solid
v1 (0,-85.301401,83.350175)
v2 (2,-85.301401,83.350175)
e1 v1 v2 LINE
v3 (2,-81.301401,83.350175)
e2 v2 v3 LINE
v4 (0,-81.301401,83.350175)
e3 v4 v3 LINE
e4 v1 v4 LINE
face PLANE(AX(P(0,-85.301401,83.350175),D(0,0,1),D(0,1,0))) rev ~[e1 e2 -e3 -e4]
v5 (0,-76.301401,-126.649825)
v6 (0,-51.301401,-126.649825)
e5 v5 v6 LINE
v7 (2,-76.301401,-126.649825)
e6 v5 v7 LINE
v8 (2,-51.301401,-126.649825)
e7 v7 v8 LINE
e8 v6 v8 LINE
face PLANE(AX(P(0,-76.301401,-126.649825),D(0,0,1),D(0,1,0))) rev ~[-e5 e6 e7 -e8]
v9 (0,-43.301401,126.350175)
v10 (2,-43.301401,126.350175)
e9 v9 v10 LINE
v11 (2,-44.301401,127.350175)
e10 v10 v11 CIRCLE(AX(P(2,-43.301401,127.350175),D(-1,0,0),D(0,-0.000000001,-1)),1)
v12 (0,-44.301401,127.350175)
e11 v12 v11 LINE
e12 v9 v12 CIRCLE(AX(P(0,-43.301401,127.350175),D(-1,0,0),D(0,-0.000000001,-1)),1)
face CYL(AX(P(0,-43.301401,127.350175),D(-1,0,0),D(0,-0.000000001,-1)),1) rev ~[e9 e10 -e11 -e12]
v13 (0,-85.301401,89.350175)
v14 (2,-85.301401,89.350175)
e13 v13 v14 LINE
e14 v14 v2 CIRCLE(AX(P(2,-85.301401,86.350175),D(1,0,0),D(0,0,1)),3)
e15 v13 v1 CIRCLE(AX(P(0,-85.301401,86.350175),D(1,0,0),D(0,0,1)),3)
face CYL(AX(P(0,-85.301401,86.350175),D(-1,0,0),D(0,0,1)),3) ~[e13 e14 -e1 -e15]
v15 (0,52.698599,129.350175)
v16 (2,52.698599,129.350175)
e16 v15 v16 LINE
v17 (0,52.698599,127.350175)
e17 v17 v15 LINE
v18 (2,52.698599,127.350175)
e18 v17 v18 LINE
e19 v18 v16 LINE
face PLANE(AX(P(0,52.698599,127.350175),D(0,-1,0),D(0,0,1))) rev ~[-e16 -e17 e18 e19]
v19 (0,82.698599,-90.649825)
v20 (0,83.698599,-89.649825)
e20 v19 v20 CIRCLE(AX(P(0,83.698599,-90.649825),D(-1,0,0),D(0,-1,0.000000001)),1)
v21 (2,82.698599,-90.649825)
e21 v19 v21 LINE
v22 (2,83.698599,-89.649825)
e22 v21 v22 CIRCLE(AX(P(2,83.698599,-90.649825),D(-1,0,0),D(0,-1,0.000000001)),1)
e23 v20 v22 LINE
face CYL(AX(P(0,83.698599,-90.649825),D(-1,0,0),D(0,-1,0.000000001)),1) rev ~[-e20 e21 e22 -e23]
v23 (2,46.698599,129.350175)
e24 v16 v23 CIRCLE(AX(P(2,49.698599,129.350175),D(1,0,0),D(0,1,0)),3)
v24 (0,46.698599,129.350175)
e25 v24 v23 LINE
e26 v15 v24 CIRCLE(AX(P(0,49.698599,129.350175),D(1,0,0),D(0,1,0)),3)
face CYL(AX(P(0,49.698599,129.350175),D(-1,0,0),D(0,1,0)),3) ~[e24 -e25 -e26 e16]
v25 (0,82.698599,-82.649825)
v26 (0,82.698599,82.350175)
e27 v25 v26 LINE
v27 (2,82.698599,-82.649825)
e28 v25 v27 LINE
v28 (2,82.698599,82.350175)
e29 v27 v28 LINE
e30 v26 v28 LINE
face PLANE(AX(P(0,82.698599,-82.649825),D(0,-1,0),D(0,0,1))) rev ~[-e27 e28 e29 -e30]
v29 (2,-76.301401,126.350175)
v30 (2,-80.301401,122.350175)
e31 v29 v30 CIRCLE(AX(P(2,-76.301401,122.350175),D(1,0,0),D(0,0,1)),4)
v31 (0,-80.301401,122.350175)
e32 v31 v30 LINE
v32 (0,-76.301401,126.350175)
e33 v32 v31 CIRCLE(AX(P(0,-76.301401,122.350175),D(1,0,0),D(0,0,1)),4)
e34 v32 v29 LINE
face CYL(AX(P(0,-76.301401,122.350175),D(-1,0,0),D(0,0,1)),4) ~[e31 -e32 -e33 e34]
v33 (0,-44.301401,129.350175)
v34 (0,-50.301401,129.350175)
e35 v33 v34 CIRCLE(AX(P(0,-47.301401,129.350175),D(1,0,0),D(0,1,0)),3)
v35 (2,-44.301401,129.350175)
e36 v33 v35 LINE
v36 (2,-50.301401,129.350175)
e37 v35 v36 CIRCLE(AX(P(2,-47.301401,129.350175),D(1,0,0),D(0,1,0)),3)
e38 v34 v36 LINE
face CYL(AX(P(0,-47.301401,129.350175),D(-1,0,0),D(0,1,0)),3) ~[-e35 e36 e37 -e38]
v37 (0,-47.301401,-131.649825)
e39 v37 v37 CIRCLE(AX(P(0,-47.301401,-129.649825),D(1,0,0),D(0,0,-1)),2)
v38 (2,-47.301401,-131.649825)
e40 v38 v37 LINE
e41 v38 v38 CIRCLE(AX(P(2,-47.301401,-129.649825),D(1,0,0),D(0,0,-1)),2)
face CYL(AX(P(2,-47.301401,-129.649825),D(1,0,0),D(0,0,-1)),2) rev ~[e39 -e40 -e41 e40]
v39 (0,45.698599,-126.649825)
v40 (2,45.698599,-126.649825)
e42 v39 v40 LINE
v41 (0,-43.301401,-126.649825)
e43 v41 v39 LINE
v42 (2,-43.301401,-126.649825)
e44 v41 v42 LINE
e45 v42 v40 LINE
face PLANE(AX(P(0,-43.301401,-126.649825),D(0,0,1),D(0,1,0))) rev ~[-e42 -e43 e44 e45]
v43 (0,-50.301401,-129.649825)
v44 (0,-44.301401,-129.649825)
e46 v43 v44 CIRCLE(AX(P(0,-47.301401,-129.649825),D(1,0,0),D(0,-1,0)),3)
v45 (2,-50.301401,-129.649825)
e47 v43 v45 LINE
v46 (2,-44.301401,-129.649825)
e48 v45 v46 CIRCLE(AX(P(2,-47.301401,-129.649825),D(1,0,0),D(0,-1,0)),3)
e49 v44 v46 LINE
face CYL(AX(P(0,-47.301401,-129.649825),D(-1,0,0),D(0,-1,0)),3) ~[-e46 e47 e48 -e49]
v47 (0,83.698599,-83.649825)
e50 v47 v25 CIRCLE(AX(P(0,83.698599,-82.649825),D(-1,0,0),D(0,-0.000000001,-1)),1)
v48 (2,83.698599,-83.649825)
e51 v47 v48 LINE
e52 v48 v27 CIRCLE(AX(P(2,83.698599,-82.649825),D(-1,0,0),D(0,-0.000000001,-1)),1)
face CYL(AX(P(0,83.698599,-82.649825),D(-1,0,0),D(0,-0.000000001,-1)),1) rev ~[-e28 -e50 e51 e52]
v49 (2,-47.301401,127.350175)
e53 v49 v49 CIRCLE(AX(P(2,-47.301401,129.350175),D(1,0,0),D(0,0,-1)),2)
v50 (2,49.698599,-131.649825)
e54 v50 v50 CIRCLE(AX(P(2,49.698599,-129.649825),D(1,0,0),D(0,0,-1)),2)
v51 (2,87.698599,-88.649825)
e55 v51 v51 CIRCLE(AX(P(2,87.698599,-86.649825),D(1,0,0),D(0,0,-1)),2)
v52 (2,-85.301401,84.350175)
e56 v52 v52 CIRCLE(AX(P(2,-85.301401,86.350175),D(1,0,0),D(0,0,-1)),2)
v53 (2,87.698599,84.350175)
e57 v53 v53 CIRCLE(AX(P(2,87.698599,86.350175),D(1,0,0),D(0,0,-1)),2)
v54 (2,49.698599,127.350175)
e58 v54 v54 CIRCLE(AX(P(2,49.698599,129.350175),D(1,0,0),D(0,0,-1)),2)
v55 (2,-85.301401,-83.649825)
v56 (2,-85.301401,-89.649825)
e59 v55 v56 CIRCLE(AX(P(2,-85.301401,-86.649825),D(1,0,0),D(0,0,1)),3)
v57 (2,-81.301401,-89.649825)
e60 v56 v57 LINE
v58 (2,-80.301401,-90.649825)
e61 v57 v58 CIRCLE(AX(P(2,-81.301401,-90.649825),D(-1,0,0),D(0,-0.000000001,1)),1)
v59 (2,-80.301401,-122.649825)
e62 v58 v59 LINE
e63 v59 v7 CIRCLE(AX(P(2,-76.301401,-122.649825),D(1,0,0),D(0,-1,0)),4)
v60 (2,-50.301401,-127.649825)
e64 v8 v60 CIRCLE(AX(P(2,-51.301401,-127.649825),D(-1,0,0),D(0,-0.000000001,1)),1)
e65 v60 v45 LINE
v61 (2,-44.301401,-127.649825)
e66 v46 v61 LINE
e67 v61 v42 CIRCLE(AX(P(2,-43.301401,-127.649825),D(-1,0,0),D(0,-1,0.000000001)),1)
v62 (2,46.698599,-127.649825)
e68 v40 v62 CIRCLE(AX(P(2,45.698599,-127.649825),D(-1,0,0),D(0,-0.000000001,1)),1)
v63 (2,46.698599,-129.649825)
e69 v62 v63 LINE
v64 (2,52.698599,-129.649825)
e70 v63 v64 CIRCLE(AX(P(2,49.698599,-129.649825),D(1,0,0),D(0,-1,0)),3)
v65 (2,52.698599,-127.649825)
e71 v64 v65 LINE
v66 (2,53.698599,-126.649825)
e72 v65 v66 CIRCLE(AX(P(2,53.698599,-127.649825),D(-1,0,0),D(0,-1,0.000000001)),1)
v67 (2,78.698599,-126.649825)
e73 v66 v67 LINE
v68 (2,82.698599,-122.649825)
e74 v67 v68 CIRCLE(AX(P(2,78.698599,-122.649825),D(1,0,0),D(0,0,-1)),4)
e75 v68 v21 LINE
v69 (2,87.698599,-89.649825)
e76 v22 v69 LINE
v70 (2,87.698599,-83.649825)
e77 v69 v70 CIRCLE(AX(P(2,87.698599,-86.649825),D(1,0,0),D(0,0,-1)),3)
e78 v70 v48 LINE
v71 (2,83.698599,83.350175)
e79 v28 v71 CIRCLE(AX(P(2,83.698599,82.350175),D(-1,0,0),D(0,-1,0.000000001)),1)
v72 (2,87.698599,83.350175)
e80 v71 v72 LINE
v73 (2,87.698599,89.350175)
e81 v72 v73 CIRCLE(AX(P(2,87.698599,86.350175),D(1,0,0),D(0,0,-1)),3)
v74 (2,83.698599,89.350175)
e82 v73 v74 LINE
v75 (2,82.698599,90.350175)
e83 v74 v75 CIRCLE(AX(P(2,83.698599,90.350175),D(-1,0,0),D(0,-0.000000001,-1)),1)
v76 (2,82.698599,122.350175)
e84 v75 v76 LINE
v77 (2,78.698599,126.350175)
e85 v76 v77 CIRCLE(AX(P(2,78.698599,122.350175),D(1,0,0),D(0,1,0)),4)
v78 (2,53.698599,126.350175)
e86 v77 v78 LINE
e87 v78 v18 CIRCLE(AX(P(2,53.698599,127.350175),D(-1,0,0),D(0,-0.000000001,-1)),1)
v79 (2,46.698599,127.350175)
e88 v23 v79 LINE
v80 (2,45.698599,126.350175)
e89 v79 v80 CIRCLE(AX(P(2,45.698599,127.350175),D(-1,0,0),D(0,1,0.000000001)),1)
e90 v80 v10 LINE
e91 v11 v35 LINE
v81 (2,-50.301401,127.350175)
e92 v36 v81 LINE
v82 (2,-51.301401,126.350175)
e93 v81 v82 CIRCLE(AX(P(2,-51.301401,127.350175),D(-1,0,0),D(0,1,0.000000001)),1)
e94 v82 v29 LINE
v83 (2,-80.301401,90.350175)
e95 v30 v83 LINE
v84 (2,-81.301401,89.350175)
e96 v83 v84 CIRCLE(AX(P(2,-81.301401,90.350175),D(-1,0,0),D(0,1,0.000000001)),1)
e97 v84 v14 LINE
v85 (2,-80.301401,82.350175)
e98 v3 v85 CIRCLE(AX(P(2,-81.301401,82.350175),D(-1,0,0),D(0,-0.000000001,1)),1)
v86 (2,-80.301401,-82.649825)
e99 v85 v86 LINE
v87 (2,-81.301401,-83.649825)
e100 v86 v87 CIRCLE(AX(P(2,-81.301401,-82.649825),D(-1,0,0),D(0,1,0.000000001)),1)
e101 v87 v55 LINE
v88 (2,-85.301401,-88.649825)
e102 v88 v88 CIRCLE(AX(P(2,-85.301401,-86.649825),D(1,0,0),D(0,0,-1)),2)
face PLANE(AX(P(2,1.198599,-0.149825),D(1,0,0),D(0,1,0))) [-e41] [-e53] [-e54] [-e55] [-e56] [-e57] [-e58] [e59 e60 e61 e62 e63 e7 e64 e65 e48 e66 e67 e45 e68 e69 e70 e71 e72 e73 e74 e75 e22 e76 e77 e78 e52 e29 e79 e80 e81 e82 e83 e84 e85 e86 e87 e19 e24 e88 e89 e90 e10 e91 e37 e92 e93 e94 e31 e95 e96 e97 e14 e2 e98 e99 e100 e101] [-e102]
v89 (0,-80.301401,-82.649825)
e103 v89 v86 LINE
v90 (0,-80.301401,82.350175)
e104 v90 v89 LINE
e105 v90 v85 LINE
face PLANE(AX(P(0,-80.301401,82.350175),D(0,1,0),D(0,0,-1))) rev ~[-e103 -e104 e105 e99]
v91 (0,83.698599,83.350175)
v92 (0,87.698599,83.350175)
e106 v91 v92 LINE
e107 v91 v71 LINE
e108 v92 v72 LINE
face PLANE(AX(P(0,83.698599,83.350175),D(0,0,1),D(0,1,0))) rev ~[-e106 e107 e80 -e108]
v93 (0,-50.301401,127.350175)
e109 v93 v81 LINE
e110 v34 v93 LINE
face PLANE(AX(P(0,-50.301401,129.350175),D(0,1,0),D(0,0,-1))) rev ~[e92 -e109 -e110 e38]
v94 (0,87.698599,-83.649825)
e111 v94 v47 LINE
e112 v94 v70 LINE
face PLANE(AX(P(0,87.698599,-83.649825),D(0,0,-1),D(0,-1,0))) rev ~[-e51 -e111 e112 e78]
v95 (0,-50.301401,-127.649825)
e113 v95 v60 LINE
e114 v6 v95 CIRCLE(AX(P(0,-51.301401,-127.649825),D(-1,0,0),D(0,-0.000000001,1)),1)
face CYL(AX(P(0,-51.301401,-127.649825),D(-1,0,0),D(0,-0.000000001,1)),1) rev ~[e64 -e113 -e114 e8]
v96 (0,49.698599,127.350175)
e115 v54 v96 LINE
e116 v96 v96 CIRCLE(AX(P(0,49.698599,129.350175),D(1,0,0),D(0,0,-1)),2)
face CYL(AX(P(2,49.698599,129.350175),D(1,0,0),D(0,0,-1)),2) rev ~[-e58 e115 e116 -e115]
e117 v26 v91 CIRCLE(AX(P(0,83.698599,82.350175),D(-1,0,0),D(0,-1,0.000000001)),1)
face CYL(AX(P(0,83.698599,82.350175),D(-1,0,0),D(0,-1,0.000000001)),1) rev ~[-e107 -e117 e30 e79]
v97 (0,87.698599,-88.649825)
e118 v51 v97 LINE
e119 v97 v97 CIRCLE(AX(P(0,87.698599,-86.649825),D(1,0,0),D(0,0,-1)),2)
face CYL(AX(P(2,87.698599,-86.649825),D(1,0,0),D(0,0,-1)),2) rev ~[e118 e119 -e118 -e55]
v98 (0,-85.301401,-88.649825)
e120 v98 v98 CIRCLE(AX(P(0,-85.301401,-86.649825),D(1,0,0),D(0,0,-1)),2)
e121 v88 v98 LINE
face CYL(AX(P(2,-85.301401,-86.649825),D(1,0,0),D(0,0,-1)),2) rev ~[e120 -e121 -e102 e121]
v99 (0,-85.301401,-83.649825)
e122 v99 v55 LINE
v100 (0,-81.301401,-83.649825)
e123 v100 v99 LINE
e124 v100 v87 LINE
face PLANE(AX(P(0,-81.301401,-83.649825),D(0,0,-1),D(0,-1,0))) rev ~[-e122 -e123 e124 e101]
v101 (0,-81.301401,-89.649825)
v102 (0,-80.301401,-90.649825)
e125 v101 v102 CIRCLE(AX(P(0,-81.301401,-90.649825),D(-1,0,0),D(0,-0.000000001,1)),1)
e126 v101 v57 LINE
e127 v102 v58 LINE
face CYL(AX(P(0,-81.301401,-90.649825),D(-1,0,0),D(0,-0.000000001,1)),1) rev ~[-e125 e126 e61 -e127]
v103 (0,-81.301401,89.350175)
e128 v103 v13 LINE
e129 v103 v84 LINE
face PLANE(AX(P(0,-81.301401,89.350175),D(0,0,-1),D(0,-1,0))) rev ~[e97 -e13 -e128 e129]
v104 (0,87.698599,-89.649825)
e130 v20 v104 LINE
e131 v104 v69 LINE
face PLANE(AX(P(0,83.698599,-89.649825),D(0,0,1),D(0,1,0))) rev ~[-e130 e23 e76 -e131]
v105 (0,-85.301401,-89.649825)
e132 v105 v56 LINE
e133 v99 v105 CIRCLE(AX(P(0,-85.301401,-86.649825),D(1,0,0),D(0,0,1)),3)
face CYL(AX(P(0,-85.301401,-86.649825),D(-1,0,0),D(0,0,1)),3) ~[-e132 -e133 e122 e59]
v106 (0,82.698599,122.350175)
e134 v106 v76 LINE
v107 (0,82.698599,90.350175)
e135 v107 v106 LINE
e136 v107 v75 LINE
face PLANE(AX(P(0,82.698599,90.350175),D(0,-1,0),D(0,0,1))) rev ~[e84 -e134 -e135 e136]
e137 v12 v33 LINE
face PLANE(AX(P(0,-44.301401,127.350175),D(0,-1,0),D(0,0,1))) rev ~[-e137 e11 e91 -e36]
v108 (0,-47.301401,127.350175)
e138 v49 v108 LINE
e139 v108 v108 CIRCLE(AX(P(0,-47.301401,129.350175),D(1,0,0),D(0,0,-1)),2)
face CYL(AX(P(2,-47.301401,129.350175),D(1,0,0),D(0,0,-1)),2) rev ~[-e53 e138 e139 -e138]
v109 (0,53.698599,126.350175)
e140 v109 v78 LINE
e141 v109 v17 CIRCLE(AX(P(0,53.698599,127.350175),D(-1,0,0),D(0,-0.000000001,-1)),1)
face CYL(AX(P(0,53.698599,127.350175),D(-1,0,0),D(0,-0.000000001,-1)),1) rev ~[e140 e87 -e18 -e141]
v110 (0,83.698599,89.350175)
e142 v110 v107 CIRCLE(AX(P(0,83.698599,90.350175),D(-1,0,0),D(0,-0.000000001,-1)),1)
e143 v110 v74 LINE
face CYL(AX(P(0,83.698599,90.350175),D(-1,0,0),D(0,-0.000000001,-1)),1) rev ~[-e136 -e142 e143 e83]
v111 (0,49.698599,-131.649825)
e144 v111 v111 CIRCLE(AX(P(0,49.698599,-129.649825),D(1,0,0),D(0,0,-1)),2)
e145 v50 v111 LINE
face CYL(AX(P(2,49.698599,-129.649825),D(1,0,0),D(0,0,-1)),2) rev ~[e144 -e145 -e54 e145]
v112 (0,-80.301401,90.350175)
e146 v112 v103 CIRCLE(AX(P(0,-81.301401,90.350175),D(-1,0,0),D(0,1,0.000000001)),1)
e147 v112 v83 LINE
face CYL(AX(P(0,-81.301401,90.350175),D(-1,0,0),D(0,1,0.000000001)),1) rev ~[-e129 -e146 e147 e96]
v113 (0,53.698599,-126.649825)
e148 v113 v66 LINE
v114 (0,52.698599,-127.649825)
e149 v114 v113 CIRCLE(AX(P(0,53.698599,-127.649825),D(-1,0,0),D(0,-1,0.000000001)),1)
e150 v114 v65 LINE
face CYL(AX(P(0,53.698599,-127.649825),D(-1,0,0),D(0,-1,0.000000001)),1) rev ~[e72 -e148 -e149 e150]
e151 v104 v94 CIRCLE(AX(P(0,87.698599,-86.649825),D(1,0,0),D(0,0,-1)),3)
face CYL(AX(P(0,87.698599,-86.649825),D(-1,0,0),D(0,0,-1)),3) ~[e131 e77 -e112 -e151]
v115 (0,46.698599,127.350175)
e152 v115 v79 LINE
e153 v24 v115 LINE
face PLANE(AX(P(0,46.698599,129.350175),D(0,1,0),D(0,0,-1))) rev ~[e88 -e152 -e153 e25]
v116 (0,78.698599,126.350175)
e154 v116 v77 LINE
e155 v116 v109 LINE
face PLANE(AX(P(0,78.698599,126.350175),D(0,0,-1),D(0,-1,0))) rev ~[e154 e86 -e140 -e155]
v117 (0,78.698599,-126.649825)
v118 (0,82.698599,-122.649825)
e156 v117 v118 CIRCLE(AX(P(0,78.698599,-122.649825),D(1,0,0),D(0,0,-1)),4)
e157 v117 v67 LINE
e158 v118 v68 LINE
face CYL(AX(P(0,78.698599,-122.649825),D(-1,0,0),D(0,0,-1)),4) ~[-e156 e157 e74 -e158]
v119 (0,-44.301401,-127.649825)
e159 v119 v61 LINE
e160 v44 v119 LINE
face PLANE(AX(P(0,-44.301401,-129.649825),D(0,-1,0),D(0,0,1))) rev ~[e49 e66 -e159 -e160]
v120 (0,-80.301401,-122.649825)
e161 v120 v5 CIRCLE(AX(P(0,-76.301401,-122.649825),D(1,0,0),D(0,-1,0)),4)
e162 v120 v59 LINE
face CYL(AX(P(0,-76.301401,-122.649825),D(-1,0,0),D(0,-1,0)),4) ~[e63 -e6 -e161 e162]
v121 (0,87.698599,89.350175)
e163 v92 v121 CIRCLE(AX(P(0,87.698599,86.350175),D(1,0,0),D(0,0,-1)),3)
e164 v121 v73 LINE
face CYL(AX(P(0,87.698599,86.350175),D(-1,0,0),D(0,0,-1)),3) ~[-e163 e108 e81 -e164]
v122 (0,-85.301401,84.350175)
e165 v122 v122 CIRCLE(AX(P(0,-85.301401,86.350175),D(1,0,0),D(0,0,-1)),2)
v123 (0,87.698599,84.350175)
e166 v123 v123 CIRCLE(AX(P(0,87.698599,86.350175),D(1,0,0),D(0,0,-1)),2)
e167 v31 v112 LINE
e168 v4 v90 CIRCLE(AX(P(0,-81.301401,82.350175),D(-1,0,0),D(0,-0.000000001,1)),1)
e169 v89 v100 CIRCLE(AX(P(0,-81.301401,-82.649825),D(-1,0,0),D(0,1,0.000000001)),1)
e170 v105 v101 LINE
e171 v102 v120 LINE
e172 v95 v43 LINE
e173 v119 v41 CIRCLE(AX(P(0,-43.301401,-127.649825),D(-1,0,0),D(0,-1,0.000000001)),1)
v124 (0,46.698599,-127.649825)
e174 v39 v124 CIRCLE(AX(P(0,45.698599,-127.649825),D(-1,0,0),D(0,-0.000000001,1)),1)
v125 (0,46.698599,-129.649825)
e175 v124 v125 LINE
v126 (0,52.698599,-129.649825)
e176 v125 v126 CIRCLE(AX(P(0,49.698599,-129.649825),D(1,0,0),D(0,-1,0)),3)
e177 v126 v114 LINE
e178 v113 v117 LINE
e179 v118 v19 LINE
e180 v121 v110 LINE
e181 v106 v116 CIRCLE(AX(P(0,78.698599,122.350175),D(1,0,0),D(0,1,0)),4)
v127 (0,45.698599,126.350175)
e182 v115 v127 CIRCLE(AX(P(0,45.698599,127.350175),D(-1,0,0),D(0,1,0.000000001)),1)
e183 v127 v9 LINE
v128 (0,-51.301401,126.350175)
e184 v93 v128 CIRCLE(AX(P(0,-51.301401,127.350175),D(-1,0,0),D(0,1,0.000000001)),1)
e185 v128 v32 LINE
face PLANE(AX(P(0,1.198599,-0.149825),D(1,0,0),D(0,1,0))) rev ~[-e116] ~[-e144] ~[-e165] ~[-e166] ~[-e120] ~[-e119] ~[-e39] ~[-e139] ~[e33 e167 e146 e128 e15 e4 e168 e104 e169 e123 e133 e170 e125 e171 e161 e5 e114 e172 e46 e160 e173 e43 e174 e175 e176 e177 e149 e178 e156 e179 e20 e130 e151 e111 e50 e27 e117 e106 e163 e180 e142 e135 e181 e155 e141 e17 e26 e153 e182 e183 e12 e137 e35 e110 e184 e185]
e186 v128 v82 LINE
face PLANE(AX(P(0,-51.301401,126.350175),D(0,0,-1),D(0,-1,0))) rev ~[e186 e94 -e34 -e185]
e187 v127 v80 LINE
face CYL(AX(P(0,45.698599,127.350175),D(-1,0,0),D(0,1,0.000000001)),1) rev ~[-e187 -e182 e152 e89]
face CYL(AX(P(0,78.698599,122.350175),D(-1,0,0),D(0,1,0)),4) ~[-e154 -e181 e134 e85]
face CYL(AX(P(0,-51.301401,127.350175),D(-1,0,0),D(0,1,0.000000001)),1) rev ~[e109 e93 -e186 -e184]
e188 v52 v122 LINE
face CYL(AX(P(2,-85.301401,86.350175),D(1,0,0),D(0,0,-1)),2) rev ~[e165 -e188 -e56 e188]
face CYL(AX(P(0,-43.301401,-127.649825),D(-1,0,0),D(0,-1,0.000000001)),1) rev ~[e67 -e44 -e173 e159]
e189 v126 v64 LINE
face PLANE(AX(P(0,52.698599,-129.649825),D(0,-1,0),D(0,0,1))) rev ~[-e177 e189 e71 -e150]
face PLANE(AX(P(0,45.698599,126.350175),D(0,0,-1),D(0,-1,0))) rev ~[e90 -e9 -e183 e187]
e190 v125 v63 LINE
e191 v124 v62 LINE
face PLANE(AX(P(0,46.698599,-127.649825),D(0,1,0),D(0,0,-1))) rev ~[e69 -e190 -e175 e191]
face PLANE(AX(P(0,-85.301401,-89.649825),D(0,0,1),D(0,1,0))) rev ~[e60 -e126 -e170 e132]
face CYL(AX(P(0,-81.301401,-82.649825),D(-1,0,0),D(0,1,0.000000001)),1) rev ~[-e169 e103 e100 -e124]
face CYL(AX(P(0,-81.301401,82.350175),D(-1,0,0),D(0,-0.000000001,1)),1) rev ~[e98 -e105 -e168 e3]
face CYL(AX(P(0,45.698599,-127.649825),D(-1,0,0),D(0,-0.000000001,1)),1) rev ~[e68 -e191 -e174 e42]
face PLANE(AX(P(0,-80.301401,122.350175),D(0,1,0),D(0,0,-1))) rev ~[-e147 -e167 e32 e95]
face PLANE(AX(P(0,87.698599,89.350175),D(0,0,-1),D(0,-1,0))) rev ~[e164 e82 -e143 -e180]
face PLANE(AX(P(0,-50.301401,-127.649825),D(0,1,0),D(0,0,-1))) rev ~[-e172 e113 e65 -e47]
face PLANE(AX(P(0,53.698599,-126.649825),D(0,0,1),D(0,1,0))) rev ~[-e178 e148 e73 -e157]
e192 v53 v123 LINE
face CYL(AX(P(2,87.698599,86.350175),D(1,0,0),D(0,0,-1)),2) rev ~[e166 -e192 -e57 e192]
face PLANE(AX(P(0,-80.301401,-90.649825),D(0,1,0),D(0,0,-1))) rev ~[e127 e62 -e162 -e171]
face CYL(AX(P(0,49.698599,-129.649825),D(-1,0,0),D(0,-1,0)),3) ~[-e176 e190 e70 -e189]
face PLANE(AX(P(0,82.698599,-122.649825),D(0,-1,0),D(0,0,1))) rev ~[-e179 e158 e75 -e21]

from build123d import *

# Parameters (mm, degrees)
Y_KSEKLIK_EKSTR_ZYON1_DEPTH = 2
IZIM2_R                     = 2
KES_EKSTR_ZYON1_DEPTH       = 2


with BuildPart() as part:
    # Çizim1 → Yükseklik-Ekstrüzyon1 (new body)
    with BuildSketch(Plane.YZ):
        with BuildLine():
            Line((78.698599078, 126.350175115), (53.698599078, 126.350175115))
            ThreePointArc((53.698599078, 126.350175115), (52.991492297, 126.643068334), (52.698599078, 127.350175115))
            Line((52.698599078, 127.350175115), (52.698599078, 129.350175115))
            ThreePointArc((52.698599078, 129.350175115), (49.698599078, 132.350175115), (46.698599078, 129.350175115))
            Line((46.698599078, 129.350175115), (46.698599078, 127.350175115))
            ThreePointArc((46.698599078, 127.350175115), (46.40570586, 126.643068334), (45.698599078, 126.350175115))
            Line((45.698599078, 126.350175115), (-43.301400922, 126.350175115))
            ThreePointArc((-43.301400922, 126.350175115), (-44.008507703, 126.643068334), (-44.301400922, 127.350175115))
            Line((-44.301400922, 127.350175115), (-44.301400922, 129.350175115))
            ThreePointArc((-44.301400922, 129.350175115), (-47.301400922, 132.350175115), (-50.301400922, 129.350175115))
            Line((-50.301400922, 129.350175115), (-50.301400922, 127.350175115))
            ThreePointArc((-50.301400922, 127.350175115), (-50.59429414, 126.643068334), (-51.301400922, 126.350175115))
            Line((-51.301400922, 126.350175115), (-76.301400922, 126.350175115))
            ThreePointArc((-76.301400922, 126.350175115), (-79.129828046, 125.17860224), (-80.301400922, 122.350175115))
            Line((-80.301400922, 122.350175115), (-80.301400922, 90.350175115))
            ThreePointArc((-80.301400922, 90.350175115), (-80.59429414, 89.643068334), (-81.301400922, 89.350175115))
            Line((-81.301400922, 89.350175115), (-85.301400922, 89.350175115))
            ThreePointArc((-85.301400922, 89.350175115), (-88.301400922, 86.350175115), (-85.301400922, 83.350175115))
            Line((-85.301400922, 83.350175115), (-81.301400922, 83.350175115))
            ThreePointArc((-81.301400922, 83.350175115), (-80.59429414, 83.057281896), (-80.301400922, 82.350175115))
            Line((-80.301400922, 82.350175115), (-80.301400922, -82.649824885))
            ThreePointArc((-80.301400922, -82.649824885), (-80.59429414, -83.356931666), (-81.301400922, -83.649824885))
            Line((-81.301400922, -83.649824885), (-85.301400922, -83.649824885))
            ThreePointArc((-85.301400922, -83.649824885), (-88.301400922, -86.649824885), (-85.301400922, -89.649824885))
            Line((-85.301400922, -89.649824885), (-81.301400922, -89.649824885))
            ThreePointArc((-81.301400922, -89.649824885), (-80.59429414, -89.942718104), (-80.301400922, -90.649824885))
            Line((-80.301400922, -90.649824885), (-80.301400922, -122.649824885))
            ThreePointArc((-80.301400922, -122.649824885), (-79.129828046, -125.47825201), (-76.301400922, -126.649824885))
            Line((-76.301400922, -126.649824885), (-51.301400922, -126.649824885))
            ThreePointArc((-51.301400922, -126.649824885), (-50.59429414, -126.942718104), (-50.301400922, -127.649824885))
            Line((-50.301400922, -127.649824885), (-50.301400922, -129.649824885))
            ThreePointArc((-50.301400922, -129.649824885), (-47.301400922, -132.649824885), (-44.301400922, -129.649824885))
            Line((-44.301400922, -129.649824885), (-44.301400922, -127.649824885))
            ThreePointArc((-44.301400922, -127.649824885), (-44.008507703, -126.942718104), (-43.301400922, -126.649824885))
            Line((-43.301400922, -126.649824885), (45.698599078, -126.649824885))
            ThreePointArc((45.698599078, -126.649824885), (46.40570586, -126.942718104), (46.698599078, -127.649824885))
            Line((46.698599078, -127.649824885), (46.698599078, -129.649824885))
            ThreePointArc((46.698599078, -129.649824885), (49.698599078, -132.649824885), (52.698599078, -129.649824885))
            Line((52.698599078, -129.649824885), (52.698599078, -127.649824885))
            ThreePointArc((52.698599078, -127.649824885), (52.991492297, -126.942718104), (53.698599078, -126.649824885))
            Line((53.698599078, -126.649824885), (78.698599078, -126.649824885))
            ThreePointArc((78.698599078, -126.649824885), (81.527026203, -125.47825201), (82.698599078, -122.649824885))
            Line((82.698599078, -122.649824885), (82.698599078, -90.649824885))
            ThreePointArc((82.698599078, -90.649824885), (82.991492297, -89.942718104), (83.698599078, -89.649824885))
            Line((83.698599078, -89.649824885), (87.698599078, -89.649824885))
            ThreePointArc((87.698599078, -89.649824885), (90.698599078, -86.649824885), (87.698599078, -83.649824885))
            Line((87.698599078, -83.649824885), (83.698599078, -83.649824885))
            ThreePointArc((83.698599078, -83.649824885), (82.991492297, -83.356931666), (82.698599078, -82.649824885))
            Line((82.698599078, -82.649824885), (82.698599078, 82.350175115))
            ThreePointArc((82.698599078, 82.350175115), (82.991492297, 83.057281896), (83.698599078, 83.350175115))
            Line((83.698599078, 83.350175115), (87.698599078, 83.350175115))
            ThreePointArc((87.698599078, 83.350175115), (90.698599078, 86.350175115), (87.698599078, 89.350175115))
            Line((87.698599078, 89.350175115), (83.698599078, 89.350175115))
            ThreePointArc((83.698599078, 89.350175115), (82.991492297, 89.643068334), (82.698599078, 90.350175115))
            Line((82.698599078, 90.350175115), (82.698599078, 122.350175115))
            ThreePointArc((82.698599078, 122.350175115), (81.527026203, 125.17860224), (78.698599078, 126.350175115))
        make_face()
    extrude(amount=Y_KSEKLIK_EKSTR_ZYON1_DEPTH)

    # Çizim2 → Kes-Ekstrüzyon1 (cut)
    with BuildSketch(Plane.YZ.offset(2)):
        with Locations(Location((-47.301400922, 129.350175115, 0), (0, 0, 270))):
            Circle(IZIM2_R)
    kes_ekstr_zyon1 = extrude(amount=-KES_EKSTR_ZYON1_DEPTH, mode=Mode.SUBTRACT)

    # Çizim-Çoğaltma1: Kes-Ekstrüzyon1 at 7 more places
    with Locations((0, 97, 0), (0, 135, -43), (0, -38, -43), (0, -38, -216), (0, 0, -259), (0, 97, -259), (0, 135, -216)):
        add(kes_ekstr_zyon1, mode=Mode.SUBTRACT)


solid = part.part
